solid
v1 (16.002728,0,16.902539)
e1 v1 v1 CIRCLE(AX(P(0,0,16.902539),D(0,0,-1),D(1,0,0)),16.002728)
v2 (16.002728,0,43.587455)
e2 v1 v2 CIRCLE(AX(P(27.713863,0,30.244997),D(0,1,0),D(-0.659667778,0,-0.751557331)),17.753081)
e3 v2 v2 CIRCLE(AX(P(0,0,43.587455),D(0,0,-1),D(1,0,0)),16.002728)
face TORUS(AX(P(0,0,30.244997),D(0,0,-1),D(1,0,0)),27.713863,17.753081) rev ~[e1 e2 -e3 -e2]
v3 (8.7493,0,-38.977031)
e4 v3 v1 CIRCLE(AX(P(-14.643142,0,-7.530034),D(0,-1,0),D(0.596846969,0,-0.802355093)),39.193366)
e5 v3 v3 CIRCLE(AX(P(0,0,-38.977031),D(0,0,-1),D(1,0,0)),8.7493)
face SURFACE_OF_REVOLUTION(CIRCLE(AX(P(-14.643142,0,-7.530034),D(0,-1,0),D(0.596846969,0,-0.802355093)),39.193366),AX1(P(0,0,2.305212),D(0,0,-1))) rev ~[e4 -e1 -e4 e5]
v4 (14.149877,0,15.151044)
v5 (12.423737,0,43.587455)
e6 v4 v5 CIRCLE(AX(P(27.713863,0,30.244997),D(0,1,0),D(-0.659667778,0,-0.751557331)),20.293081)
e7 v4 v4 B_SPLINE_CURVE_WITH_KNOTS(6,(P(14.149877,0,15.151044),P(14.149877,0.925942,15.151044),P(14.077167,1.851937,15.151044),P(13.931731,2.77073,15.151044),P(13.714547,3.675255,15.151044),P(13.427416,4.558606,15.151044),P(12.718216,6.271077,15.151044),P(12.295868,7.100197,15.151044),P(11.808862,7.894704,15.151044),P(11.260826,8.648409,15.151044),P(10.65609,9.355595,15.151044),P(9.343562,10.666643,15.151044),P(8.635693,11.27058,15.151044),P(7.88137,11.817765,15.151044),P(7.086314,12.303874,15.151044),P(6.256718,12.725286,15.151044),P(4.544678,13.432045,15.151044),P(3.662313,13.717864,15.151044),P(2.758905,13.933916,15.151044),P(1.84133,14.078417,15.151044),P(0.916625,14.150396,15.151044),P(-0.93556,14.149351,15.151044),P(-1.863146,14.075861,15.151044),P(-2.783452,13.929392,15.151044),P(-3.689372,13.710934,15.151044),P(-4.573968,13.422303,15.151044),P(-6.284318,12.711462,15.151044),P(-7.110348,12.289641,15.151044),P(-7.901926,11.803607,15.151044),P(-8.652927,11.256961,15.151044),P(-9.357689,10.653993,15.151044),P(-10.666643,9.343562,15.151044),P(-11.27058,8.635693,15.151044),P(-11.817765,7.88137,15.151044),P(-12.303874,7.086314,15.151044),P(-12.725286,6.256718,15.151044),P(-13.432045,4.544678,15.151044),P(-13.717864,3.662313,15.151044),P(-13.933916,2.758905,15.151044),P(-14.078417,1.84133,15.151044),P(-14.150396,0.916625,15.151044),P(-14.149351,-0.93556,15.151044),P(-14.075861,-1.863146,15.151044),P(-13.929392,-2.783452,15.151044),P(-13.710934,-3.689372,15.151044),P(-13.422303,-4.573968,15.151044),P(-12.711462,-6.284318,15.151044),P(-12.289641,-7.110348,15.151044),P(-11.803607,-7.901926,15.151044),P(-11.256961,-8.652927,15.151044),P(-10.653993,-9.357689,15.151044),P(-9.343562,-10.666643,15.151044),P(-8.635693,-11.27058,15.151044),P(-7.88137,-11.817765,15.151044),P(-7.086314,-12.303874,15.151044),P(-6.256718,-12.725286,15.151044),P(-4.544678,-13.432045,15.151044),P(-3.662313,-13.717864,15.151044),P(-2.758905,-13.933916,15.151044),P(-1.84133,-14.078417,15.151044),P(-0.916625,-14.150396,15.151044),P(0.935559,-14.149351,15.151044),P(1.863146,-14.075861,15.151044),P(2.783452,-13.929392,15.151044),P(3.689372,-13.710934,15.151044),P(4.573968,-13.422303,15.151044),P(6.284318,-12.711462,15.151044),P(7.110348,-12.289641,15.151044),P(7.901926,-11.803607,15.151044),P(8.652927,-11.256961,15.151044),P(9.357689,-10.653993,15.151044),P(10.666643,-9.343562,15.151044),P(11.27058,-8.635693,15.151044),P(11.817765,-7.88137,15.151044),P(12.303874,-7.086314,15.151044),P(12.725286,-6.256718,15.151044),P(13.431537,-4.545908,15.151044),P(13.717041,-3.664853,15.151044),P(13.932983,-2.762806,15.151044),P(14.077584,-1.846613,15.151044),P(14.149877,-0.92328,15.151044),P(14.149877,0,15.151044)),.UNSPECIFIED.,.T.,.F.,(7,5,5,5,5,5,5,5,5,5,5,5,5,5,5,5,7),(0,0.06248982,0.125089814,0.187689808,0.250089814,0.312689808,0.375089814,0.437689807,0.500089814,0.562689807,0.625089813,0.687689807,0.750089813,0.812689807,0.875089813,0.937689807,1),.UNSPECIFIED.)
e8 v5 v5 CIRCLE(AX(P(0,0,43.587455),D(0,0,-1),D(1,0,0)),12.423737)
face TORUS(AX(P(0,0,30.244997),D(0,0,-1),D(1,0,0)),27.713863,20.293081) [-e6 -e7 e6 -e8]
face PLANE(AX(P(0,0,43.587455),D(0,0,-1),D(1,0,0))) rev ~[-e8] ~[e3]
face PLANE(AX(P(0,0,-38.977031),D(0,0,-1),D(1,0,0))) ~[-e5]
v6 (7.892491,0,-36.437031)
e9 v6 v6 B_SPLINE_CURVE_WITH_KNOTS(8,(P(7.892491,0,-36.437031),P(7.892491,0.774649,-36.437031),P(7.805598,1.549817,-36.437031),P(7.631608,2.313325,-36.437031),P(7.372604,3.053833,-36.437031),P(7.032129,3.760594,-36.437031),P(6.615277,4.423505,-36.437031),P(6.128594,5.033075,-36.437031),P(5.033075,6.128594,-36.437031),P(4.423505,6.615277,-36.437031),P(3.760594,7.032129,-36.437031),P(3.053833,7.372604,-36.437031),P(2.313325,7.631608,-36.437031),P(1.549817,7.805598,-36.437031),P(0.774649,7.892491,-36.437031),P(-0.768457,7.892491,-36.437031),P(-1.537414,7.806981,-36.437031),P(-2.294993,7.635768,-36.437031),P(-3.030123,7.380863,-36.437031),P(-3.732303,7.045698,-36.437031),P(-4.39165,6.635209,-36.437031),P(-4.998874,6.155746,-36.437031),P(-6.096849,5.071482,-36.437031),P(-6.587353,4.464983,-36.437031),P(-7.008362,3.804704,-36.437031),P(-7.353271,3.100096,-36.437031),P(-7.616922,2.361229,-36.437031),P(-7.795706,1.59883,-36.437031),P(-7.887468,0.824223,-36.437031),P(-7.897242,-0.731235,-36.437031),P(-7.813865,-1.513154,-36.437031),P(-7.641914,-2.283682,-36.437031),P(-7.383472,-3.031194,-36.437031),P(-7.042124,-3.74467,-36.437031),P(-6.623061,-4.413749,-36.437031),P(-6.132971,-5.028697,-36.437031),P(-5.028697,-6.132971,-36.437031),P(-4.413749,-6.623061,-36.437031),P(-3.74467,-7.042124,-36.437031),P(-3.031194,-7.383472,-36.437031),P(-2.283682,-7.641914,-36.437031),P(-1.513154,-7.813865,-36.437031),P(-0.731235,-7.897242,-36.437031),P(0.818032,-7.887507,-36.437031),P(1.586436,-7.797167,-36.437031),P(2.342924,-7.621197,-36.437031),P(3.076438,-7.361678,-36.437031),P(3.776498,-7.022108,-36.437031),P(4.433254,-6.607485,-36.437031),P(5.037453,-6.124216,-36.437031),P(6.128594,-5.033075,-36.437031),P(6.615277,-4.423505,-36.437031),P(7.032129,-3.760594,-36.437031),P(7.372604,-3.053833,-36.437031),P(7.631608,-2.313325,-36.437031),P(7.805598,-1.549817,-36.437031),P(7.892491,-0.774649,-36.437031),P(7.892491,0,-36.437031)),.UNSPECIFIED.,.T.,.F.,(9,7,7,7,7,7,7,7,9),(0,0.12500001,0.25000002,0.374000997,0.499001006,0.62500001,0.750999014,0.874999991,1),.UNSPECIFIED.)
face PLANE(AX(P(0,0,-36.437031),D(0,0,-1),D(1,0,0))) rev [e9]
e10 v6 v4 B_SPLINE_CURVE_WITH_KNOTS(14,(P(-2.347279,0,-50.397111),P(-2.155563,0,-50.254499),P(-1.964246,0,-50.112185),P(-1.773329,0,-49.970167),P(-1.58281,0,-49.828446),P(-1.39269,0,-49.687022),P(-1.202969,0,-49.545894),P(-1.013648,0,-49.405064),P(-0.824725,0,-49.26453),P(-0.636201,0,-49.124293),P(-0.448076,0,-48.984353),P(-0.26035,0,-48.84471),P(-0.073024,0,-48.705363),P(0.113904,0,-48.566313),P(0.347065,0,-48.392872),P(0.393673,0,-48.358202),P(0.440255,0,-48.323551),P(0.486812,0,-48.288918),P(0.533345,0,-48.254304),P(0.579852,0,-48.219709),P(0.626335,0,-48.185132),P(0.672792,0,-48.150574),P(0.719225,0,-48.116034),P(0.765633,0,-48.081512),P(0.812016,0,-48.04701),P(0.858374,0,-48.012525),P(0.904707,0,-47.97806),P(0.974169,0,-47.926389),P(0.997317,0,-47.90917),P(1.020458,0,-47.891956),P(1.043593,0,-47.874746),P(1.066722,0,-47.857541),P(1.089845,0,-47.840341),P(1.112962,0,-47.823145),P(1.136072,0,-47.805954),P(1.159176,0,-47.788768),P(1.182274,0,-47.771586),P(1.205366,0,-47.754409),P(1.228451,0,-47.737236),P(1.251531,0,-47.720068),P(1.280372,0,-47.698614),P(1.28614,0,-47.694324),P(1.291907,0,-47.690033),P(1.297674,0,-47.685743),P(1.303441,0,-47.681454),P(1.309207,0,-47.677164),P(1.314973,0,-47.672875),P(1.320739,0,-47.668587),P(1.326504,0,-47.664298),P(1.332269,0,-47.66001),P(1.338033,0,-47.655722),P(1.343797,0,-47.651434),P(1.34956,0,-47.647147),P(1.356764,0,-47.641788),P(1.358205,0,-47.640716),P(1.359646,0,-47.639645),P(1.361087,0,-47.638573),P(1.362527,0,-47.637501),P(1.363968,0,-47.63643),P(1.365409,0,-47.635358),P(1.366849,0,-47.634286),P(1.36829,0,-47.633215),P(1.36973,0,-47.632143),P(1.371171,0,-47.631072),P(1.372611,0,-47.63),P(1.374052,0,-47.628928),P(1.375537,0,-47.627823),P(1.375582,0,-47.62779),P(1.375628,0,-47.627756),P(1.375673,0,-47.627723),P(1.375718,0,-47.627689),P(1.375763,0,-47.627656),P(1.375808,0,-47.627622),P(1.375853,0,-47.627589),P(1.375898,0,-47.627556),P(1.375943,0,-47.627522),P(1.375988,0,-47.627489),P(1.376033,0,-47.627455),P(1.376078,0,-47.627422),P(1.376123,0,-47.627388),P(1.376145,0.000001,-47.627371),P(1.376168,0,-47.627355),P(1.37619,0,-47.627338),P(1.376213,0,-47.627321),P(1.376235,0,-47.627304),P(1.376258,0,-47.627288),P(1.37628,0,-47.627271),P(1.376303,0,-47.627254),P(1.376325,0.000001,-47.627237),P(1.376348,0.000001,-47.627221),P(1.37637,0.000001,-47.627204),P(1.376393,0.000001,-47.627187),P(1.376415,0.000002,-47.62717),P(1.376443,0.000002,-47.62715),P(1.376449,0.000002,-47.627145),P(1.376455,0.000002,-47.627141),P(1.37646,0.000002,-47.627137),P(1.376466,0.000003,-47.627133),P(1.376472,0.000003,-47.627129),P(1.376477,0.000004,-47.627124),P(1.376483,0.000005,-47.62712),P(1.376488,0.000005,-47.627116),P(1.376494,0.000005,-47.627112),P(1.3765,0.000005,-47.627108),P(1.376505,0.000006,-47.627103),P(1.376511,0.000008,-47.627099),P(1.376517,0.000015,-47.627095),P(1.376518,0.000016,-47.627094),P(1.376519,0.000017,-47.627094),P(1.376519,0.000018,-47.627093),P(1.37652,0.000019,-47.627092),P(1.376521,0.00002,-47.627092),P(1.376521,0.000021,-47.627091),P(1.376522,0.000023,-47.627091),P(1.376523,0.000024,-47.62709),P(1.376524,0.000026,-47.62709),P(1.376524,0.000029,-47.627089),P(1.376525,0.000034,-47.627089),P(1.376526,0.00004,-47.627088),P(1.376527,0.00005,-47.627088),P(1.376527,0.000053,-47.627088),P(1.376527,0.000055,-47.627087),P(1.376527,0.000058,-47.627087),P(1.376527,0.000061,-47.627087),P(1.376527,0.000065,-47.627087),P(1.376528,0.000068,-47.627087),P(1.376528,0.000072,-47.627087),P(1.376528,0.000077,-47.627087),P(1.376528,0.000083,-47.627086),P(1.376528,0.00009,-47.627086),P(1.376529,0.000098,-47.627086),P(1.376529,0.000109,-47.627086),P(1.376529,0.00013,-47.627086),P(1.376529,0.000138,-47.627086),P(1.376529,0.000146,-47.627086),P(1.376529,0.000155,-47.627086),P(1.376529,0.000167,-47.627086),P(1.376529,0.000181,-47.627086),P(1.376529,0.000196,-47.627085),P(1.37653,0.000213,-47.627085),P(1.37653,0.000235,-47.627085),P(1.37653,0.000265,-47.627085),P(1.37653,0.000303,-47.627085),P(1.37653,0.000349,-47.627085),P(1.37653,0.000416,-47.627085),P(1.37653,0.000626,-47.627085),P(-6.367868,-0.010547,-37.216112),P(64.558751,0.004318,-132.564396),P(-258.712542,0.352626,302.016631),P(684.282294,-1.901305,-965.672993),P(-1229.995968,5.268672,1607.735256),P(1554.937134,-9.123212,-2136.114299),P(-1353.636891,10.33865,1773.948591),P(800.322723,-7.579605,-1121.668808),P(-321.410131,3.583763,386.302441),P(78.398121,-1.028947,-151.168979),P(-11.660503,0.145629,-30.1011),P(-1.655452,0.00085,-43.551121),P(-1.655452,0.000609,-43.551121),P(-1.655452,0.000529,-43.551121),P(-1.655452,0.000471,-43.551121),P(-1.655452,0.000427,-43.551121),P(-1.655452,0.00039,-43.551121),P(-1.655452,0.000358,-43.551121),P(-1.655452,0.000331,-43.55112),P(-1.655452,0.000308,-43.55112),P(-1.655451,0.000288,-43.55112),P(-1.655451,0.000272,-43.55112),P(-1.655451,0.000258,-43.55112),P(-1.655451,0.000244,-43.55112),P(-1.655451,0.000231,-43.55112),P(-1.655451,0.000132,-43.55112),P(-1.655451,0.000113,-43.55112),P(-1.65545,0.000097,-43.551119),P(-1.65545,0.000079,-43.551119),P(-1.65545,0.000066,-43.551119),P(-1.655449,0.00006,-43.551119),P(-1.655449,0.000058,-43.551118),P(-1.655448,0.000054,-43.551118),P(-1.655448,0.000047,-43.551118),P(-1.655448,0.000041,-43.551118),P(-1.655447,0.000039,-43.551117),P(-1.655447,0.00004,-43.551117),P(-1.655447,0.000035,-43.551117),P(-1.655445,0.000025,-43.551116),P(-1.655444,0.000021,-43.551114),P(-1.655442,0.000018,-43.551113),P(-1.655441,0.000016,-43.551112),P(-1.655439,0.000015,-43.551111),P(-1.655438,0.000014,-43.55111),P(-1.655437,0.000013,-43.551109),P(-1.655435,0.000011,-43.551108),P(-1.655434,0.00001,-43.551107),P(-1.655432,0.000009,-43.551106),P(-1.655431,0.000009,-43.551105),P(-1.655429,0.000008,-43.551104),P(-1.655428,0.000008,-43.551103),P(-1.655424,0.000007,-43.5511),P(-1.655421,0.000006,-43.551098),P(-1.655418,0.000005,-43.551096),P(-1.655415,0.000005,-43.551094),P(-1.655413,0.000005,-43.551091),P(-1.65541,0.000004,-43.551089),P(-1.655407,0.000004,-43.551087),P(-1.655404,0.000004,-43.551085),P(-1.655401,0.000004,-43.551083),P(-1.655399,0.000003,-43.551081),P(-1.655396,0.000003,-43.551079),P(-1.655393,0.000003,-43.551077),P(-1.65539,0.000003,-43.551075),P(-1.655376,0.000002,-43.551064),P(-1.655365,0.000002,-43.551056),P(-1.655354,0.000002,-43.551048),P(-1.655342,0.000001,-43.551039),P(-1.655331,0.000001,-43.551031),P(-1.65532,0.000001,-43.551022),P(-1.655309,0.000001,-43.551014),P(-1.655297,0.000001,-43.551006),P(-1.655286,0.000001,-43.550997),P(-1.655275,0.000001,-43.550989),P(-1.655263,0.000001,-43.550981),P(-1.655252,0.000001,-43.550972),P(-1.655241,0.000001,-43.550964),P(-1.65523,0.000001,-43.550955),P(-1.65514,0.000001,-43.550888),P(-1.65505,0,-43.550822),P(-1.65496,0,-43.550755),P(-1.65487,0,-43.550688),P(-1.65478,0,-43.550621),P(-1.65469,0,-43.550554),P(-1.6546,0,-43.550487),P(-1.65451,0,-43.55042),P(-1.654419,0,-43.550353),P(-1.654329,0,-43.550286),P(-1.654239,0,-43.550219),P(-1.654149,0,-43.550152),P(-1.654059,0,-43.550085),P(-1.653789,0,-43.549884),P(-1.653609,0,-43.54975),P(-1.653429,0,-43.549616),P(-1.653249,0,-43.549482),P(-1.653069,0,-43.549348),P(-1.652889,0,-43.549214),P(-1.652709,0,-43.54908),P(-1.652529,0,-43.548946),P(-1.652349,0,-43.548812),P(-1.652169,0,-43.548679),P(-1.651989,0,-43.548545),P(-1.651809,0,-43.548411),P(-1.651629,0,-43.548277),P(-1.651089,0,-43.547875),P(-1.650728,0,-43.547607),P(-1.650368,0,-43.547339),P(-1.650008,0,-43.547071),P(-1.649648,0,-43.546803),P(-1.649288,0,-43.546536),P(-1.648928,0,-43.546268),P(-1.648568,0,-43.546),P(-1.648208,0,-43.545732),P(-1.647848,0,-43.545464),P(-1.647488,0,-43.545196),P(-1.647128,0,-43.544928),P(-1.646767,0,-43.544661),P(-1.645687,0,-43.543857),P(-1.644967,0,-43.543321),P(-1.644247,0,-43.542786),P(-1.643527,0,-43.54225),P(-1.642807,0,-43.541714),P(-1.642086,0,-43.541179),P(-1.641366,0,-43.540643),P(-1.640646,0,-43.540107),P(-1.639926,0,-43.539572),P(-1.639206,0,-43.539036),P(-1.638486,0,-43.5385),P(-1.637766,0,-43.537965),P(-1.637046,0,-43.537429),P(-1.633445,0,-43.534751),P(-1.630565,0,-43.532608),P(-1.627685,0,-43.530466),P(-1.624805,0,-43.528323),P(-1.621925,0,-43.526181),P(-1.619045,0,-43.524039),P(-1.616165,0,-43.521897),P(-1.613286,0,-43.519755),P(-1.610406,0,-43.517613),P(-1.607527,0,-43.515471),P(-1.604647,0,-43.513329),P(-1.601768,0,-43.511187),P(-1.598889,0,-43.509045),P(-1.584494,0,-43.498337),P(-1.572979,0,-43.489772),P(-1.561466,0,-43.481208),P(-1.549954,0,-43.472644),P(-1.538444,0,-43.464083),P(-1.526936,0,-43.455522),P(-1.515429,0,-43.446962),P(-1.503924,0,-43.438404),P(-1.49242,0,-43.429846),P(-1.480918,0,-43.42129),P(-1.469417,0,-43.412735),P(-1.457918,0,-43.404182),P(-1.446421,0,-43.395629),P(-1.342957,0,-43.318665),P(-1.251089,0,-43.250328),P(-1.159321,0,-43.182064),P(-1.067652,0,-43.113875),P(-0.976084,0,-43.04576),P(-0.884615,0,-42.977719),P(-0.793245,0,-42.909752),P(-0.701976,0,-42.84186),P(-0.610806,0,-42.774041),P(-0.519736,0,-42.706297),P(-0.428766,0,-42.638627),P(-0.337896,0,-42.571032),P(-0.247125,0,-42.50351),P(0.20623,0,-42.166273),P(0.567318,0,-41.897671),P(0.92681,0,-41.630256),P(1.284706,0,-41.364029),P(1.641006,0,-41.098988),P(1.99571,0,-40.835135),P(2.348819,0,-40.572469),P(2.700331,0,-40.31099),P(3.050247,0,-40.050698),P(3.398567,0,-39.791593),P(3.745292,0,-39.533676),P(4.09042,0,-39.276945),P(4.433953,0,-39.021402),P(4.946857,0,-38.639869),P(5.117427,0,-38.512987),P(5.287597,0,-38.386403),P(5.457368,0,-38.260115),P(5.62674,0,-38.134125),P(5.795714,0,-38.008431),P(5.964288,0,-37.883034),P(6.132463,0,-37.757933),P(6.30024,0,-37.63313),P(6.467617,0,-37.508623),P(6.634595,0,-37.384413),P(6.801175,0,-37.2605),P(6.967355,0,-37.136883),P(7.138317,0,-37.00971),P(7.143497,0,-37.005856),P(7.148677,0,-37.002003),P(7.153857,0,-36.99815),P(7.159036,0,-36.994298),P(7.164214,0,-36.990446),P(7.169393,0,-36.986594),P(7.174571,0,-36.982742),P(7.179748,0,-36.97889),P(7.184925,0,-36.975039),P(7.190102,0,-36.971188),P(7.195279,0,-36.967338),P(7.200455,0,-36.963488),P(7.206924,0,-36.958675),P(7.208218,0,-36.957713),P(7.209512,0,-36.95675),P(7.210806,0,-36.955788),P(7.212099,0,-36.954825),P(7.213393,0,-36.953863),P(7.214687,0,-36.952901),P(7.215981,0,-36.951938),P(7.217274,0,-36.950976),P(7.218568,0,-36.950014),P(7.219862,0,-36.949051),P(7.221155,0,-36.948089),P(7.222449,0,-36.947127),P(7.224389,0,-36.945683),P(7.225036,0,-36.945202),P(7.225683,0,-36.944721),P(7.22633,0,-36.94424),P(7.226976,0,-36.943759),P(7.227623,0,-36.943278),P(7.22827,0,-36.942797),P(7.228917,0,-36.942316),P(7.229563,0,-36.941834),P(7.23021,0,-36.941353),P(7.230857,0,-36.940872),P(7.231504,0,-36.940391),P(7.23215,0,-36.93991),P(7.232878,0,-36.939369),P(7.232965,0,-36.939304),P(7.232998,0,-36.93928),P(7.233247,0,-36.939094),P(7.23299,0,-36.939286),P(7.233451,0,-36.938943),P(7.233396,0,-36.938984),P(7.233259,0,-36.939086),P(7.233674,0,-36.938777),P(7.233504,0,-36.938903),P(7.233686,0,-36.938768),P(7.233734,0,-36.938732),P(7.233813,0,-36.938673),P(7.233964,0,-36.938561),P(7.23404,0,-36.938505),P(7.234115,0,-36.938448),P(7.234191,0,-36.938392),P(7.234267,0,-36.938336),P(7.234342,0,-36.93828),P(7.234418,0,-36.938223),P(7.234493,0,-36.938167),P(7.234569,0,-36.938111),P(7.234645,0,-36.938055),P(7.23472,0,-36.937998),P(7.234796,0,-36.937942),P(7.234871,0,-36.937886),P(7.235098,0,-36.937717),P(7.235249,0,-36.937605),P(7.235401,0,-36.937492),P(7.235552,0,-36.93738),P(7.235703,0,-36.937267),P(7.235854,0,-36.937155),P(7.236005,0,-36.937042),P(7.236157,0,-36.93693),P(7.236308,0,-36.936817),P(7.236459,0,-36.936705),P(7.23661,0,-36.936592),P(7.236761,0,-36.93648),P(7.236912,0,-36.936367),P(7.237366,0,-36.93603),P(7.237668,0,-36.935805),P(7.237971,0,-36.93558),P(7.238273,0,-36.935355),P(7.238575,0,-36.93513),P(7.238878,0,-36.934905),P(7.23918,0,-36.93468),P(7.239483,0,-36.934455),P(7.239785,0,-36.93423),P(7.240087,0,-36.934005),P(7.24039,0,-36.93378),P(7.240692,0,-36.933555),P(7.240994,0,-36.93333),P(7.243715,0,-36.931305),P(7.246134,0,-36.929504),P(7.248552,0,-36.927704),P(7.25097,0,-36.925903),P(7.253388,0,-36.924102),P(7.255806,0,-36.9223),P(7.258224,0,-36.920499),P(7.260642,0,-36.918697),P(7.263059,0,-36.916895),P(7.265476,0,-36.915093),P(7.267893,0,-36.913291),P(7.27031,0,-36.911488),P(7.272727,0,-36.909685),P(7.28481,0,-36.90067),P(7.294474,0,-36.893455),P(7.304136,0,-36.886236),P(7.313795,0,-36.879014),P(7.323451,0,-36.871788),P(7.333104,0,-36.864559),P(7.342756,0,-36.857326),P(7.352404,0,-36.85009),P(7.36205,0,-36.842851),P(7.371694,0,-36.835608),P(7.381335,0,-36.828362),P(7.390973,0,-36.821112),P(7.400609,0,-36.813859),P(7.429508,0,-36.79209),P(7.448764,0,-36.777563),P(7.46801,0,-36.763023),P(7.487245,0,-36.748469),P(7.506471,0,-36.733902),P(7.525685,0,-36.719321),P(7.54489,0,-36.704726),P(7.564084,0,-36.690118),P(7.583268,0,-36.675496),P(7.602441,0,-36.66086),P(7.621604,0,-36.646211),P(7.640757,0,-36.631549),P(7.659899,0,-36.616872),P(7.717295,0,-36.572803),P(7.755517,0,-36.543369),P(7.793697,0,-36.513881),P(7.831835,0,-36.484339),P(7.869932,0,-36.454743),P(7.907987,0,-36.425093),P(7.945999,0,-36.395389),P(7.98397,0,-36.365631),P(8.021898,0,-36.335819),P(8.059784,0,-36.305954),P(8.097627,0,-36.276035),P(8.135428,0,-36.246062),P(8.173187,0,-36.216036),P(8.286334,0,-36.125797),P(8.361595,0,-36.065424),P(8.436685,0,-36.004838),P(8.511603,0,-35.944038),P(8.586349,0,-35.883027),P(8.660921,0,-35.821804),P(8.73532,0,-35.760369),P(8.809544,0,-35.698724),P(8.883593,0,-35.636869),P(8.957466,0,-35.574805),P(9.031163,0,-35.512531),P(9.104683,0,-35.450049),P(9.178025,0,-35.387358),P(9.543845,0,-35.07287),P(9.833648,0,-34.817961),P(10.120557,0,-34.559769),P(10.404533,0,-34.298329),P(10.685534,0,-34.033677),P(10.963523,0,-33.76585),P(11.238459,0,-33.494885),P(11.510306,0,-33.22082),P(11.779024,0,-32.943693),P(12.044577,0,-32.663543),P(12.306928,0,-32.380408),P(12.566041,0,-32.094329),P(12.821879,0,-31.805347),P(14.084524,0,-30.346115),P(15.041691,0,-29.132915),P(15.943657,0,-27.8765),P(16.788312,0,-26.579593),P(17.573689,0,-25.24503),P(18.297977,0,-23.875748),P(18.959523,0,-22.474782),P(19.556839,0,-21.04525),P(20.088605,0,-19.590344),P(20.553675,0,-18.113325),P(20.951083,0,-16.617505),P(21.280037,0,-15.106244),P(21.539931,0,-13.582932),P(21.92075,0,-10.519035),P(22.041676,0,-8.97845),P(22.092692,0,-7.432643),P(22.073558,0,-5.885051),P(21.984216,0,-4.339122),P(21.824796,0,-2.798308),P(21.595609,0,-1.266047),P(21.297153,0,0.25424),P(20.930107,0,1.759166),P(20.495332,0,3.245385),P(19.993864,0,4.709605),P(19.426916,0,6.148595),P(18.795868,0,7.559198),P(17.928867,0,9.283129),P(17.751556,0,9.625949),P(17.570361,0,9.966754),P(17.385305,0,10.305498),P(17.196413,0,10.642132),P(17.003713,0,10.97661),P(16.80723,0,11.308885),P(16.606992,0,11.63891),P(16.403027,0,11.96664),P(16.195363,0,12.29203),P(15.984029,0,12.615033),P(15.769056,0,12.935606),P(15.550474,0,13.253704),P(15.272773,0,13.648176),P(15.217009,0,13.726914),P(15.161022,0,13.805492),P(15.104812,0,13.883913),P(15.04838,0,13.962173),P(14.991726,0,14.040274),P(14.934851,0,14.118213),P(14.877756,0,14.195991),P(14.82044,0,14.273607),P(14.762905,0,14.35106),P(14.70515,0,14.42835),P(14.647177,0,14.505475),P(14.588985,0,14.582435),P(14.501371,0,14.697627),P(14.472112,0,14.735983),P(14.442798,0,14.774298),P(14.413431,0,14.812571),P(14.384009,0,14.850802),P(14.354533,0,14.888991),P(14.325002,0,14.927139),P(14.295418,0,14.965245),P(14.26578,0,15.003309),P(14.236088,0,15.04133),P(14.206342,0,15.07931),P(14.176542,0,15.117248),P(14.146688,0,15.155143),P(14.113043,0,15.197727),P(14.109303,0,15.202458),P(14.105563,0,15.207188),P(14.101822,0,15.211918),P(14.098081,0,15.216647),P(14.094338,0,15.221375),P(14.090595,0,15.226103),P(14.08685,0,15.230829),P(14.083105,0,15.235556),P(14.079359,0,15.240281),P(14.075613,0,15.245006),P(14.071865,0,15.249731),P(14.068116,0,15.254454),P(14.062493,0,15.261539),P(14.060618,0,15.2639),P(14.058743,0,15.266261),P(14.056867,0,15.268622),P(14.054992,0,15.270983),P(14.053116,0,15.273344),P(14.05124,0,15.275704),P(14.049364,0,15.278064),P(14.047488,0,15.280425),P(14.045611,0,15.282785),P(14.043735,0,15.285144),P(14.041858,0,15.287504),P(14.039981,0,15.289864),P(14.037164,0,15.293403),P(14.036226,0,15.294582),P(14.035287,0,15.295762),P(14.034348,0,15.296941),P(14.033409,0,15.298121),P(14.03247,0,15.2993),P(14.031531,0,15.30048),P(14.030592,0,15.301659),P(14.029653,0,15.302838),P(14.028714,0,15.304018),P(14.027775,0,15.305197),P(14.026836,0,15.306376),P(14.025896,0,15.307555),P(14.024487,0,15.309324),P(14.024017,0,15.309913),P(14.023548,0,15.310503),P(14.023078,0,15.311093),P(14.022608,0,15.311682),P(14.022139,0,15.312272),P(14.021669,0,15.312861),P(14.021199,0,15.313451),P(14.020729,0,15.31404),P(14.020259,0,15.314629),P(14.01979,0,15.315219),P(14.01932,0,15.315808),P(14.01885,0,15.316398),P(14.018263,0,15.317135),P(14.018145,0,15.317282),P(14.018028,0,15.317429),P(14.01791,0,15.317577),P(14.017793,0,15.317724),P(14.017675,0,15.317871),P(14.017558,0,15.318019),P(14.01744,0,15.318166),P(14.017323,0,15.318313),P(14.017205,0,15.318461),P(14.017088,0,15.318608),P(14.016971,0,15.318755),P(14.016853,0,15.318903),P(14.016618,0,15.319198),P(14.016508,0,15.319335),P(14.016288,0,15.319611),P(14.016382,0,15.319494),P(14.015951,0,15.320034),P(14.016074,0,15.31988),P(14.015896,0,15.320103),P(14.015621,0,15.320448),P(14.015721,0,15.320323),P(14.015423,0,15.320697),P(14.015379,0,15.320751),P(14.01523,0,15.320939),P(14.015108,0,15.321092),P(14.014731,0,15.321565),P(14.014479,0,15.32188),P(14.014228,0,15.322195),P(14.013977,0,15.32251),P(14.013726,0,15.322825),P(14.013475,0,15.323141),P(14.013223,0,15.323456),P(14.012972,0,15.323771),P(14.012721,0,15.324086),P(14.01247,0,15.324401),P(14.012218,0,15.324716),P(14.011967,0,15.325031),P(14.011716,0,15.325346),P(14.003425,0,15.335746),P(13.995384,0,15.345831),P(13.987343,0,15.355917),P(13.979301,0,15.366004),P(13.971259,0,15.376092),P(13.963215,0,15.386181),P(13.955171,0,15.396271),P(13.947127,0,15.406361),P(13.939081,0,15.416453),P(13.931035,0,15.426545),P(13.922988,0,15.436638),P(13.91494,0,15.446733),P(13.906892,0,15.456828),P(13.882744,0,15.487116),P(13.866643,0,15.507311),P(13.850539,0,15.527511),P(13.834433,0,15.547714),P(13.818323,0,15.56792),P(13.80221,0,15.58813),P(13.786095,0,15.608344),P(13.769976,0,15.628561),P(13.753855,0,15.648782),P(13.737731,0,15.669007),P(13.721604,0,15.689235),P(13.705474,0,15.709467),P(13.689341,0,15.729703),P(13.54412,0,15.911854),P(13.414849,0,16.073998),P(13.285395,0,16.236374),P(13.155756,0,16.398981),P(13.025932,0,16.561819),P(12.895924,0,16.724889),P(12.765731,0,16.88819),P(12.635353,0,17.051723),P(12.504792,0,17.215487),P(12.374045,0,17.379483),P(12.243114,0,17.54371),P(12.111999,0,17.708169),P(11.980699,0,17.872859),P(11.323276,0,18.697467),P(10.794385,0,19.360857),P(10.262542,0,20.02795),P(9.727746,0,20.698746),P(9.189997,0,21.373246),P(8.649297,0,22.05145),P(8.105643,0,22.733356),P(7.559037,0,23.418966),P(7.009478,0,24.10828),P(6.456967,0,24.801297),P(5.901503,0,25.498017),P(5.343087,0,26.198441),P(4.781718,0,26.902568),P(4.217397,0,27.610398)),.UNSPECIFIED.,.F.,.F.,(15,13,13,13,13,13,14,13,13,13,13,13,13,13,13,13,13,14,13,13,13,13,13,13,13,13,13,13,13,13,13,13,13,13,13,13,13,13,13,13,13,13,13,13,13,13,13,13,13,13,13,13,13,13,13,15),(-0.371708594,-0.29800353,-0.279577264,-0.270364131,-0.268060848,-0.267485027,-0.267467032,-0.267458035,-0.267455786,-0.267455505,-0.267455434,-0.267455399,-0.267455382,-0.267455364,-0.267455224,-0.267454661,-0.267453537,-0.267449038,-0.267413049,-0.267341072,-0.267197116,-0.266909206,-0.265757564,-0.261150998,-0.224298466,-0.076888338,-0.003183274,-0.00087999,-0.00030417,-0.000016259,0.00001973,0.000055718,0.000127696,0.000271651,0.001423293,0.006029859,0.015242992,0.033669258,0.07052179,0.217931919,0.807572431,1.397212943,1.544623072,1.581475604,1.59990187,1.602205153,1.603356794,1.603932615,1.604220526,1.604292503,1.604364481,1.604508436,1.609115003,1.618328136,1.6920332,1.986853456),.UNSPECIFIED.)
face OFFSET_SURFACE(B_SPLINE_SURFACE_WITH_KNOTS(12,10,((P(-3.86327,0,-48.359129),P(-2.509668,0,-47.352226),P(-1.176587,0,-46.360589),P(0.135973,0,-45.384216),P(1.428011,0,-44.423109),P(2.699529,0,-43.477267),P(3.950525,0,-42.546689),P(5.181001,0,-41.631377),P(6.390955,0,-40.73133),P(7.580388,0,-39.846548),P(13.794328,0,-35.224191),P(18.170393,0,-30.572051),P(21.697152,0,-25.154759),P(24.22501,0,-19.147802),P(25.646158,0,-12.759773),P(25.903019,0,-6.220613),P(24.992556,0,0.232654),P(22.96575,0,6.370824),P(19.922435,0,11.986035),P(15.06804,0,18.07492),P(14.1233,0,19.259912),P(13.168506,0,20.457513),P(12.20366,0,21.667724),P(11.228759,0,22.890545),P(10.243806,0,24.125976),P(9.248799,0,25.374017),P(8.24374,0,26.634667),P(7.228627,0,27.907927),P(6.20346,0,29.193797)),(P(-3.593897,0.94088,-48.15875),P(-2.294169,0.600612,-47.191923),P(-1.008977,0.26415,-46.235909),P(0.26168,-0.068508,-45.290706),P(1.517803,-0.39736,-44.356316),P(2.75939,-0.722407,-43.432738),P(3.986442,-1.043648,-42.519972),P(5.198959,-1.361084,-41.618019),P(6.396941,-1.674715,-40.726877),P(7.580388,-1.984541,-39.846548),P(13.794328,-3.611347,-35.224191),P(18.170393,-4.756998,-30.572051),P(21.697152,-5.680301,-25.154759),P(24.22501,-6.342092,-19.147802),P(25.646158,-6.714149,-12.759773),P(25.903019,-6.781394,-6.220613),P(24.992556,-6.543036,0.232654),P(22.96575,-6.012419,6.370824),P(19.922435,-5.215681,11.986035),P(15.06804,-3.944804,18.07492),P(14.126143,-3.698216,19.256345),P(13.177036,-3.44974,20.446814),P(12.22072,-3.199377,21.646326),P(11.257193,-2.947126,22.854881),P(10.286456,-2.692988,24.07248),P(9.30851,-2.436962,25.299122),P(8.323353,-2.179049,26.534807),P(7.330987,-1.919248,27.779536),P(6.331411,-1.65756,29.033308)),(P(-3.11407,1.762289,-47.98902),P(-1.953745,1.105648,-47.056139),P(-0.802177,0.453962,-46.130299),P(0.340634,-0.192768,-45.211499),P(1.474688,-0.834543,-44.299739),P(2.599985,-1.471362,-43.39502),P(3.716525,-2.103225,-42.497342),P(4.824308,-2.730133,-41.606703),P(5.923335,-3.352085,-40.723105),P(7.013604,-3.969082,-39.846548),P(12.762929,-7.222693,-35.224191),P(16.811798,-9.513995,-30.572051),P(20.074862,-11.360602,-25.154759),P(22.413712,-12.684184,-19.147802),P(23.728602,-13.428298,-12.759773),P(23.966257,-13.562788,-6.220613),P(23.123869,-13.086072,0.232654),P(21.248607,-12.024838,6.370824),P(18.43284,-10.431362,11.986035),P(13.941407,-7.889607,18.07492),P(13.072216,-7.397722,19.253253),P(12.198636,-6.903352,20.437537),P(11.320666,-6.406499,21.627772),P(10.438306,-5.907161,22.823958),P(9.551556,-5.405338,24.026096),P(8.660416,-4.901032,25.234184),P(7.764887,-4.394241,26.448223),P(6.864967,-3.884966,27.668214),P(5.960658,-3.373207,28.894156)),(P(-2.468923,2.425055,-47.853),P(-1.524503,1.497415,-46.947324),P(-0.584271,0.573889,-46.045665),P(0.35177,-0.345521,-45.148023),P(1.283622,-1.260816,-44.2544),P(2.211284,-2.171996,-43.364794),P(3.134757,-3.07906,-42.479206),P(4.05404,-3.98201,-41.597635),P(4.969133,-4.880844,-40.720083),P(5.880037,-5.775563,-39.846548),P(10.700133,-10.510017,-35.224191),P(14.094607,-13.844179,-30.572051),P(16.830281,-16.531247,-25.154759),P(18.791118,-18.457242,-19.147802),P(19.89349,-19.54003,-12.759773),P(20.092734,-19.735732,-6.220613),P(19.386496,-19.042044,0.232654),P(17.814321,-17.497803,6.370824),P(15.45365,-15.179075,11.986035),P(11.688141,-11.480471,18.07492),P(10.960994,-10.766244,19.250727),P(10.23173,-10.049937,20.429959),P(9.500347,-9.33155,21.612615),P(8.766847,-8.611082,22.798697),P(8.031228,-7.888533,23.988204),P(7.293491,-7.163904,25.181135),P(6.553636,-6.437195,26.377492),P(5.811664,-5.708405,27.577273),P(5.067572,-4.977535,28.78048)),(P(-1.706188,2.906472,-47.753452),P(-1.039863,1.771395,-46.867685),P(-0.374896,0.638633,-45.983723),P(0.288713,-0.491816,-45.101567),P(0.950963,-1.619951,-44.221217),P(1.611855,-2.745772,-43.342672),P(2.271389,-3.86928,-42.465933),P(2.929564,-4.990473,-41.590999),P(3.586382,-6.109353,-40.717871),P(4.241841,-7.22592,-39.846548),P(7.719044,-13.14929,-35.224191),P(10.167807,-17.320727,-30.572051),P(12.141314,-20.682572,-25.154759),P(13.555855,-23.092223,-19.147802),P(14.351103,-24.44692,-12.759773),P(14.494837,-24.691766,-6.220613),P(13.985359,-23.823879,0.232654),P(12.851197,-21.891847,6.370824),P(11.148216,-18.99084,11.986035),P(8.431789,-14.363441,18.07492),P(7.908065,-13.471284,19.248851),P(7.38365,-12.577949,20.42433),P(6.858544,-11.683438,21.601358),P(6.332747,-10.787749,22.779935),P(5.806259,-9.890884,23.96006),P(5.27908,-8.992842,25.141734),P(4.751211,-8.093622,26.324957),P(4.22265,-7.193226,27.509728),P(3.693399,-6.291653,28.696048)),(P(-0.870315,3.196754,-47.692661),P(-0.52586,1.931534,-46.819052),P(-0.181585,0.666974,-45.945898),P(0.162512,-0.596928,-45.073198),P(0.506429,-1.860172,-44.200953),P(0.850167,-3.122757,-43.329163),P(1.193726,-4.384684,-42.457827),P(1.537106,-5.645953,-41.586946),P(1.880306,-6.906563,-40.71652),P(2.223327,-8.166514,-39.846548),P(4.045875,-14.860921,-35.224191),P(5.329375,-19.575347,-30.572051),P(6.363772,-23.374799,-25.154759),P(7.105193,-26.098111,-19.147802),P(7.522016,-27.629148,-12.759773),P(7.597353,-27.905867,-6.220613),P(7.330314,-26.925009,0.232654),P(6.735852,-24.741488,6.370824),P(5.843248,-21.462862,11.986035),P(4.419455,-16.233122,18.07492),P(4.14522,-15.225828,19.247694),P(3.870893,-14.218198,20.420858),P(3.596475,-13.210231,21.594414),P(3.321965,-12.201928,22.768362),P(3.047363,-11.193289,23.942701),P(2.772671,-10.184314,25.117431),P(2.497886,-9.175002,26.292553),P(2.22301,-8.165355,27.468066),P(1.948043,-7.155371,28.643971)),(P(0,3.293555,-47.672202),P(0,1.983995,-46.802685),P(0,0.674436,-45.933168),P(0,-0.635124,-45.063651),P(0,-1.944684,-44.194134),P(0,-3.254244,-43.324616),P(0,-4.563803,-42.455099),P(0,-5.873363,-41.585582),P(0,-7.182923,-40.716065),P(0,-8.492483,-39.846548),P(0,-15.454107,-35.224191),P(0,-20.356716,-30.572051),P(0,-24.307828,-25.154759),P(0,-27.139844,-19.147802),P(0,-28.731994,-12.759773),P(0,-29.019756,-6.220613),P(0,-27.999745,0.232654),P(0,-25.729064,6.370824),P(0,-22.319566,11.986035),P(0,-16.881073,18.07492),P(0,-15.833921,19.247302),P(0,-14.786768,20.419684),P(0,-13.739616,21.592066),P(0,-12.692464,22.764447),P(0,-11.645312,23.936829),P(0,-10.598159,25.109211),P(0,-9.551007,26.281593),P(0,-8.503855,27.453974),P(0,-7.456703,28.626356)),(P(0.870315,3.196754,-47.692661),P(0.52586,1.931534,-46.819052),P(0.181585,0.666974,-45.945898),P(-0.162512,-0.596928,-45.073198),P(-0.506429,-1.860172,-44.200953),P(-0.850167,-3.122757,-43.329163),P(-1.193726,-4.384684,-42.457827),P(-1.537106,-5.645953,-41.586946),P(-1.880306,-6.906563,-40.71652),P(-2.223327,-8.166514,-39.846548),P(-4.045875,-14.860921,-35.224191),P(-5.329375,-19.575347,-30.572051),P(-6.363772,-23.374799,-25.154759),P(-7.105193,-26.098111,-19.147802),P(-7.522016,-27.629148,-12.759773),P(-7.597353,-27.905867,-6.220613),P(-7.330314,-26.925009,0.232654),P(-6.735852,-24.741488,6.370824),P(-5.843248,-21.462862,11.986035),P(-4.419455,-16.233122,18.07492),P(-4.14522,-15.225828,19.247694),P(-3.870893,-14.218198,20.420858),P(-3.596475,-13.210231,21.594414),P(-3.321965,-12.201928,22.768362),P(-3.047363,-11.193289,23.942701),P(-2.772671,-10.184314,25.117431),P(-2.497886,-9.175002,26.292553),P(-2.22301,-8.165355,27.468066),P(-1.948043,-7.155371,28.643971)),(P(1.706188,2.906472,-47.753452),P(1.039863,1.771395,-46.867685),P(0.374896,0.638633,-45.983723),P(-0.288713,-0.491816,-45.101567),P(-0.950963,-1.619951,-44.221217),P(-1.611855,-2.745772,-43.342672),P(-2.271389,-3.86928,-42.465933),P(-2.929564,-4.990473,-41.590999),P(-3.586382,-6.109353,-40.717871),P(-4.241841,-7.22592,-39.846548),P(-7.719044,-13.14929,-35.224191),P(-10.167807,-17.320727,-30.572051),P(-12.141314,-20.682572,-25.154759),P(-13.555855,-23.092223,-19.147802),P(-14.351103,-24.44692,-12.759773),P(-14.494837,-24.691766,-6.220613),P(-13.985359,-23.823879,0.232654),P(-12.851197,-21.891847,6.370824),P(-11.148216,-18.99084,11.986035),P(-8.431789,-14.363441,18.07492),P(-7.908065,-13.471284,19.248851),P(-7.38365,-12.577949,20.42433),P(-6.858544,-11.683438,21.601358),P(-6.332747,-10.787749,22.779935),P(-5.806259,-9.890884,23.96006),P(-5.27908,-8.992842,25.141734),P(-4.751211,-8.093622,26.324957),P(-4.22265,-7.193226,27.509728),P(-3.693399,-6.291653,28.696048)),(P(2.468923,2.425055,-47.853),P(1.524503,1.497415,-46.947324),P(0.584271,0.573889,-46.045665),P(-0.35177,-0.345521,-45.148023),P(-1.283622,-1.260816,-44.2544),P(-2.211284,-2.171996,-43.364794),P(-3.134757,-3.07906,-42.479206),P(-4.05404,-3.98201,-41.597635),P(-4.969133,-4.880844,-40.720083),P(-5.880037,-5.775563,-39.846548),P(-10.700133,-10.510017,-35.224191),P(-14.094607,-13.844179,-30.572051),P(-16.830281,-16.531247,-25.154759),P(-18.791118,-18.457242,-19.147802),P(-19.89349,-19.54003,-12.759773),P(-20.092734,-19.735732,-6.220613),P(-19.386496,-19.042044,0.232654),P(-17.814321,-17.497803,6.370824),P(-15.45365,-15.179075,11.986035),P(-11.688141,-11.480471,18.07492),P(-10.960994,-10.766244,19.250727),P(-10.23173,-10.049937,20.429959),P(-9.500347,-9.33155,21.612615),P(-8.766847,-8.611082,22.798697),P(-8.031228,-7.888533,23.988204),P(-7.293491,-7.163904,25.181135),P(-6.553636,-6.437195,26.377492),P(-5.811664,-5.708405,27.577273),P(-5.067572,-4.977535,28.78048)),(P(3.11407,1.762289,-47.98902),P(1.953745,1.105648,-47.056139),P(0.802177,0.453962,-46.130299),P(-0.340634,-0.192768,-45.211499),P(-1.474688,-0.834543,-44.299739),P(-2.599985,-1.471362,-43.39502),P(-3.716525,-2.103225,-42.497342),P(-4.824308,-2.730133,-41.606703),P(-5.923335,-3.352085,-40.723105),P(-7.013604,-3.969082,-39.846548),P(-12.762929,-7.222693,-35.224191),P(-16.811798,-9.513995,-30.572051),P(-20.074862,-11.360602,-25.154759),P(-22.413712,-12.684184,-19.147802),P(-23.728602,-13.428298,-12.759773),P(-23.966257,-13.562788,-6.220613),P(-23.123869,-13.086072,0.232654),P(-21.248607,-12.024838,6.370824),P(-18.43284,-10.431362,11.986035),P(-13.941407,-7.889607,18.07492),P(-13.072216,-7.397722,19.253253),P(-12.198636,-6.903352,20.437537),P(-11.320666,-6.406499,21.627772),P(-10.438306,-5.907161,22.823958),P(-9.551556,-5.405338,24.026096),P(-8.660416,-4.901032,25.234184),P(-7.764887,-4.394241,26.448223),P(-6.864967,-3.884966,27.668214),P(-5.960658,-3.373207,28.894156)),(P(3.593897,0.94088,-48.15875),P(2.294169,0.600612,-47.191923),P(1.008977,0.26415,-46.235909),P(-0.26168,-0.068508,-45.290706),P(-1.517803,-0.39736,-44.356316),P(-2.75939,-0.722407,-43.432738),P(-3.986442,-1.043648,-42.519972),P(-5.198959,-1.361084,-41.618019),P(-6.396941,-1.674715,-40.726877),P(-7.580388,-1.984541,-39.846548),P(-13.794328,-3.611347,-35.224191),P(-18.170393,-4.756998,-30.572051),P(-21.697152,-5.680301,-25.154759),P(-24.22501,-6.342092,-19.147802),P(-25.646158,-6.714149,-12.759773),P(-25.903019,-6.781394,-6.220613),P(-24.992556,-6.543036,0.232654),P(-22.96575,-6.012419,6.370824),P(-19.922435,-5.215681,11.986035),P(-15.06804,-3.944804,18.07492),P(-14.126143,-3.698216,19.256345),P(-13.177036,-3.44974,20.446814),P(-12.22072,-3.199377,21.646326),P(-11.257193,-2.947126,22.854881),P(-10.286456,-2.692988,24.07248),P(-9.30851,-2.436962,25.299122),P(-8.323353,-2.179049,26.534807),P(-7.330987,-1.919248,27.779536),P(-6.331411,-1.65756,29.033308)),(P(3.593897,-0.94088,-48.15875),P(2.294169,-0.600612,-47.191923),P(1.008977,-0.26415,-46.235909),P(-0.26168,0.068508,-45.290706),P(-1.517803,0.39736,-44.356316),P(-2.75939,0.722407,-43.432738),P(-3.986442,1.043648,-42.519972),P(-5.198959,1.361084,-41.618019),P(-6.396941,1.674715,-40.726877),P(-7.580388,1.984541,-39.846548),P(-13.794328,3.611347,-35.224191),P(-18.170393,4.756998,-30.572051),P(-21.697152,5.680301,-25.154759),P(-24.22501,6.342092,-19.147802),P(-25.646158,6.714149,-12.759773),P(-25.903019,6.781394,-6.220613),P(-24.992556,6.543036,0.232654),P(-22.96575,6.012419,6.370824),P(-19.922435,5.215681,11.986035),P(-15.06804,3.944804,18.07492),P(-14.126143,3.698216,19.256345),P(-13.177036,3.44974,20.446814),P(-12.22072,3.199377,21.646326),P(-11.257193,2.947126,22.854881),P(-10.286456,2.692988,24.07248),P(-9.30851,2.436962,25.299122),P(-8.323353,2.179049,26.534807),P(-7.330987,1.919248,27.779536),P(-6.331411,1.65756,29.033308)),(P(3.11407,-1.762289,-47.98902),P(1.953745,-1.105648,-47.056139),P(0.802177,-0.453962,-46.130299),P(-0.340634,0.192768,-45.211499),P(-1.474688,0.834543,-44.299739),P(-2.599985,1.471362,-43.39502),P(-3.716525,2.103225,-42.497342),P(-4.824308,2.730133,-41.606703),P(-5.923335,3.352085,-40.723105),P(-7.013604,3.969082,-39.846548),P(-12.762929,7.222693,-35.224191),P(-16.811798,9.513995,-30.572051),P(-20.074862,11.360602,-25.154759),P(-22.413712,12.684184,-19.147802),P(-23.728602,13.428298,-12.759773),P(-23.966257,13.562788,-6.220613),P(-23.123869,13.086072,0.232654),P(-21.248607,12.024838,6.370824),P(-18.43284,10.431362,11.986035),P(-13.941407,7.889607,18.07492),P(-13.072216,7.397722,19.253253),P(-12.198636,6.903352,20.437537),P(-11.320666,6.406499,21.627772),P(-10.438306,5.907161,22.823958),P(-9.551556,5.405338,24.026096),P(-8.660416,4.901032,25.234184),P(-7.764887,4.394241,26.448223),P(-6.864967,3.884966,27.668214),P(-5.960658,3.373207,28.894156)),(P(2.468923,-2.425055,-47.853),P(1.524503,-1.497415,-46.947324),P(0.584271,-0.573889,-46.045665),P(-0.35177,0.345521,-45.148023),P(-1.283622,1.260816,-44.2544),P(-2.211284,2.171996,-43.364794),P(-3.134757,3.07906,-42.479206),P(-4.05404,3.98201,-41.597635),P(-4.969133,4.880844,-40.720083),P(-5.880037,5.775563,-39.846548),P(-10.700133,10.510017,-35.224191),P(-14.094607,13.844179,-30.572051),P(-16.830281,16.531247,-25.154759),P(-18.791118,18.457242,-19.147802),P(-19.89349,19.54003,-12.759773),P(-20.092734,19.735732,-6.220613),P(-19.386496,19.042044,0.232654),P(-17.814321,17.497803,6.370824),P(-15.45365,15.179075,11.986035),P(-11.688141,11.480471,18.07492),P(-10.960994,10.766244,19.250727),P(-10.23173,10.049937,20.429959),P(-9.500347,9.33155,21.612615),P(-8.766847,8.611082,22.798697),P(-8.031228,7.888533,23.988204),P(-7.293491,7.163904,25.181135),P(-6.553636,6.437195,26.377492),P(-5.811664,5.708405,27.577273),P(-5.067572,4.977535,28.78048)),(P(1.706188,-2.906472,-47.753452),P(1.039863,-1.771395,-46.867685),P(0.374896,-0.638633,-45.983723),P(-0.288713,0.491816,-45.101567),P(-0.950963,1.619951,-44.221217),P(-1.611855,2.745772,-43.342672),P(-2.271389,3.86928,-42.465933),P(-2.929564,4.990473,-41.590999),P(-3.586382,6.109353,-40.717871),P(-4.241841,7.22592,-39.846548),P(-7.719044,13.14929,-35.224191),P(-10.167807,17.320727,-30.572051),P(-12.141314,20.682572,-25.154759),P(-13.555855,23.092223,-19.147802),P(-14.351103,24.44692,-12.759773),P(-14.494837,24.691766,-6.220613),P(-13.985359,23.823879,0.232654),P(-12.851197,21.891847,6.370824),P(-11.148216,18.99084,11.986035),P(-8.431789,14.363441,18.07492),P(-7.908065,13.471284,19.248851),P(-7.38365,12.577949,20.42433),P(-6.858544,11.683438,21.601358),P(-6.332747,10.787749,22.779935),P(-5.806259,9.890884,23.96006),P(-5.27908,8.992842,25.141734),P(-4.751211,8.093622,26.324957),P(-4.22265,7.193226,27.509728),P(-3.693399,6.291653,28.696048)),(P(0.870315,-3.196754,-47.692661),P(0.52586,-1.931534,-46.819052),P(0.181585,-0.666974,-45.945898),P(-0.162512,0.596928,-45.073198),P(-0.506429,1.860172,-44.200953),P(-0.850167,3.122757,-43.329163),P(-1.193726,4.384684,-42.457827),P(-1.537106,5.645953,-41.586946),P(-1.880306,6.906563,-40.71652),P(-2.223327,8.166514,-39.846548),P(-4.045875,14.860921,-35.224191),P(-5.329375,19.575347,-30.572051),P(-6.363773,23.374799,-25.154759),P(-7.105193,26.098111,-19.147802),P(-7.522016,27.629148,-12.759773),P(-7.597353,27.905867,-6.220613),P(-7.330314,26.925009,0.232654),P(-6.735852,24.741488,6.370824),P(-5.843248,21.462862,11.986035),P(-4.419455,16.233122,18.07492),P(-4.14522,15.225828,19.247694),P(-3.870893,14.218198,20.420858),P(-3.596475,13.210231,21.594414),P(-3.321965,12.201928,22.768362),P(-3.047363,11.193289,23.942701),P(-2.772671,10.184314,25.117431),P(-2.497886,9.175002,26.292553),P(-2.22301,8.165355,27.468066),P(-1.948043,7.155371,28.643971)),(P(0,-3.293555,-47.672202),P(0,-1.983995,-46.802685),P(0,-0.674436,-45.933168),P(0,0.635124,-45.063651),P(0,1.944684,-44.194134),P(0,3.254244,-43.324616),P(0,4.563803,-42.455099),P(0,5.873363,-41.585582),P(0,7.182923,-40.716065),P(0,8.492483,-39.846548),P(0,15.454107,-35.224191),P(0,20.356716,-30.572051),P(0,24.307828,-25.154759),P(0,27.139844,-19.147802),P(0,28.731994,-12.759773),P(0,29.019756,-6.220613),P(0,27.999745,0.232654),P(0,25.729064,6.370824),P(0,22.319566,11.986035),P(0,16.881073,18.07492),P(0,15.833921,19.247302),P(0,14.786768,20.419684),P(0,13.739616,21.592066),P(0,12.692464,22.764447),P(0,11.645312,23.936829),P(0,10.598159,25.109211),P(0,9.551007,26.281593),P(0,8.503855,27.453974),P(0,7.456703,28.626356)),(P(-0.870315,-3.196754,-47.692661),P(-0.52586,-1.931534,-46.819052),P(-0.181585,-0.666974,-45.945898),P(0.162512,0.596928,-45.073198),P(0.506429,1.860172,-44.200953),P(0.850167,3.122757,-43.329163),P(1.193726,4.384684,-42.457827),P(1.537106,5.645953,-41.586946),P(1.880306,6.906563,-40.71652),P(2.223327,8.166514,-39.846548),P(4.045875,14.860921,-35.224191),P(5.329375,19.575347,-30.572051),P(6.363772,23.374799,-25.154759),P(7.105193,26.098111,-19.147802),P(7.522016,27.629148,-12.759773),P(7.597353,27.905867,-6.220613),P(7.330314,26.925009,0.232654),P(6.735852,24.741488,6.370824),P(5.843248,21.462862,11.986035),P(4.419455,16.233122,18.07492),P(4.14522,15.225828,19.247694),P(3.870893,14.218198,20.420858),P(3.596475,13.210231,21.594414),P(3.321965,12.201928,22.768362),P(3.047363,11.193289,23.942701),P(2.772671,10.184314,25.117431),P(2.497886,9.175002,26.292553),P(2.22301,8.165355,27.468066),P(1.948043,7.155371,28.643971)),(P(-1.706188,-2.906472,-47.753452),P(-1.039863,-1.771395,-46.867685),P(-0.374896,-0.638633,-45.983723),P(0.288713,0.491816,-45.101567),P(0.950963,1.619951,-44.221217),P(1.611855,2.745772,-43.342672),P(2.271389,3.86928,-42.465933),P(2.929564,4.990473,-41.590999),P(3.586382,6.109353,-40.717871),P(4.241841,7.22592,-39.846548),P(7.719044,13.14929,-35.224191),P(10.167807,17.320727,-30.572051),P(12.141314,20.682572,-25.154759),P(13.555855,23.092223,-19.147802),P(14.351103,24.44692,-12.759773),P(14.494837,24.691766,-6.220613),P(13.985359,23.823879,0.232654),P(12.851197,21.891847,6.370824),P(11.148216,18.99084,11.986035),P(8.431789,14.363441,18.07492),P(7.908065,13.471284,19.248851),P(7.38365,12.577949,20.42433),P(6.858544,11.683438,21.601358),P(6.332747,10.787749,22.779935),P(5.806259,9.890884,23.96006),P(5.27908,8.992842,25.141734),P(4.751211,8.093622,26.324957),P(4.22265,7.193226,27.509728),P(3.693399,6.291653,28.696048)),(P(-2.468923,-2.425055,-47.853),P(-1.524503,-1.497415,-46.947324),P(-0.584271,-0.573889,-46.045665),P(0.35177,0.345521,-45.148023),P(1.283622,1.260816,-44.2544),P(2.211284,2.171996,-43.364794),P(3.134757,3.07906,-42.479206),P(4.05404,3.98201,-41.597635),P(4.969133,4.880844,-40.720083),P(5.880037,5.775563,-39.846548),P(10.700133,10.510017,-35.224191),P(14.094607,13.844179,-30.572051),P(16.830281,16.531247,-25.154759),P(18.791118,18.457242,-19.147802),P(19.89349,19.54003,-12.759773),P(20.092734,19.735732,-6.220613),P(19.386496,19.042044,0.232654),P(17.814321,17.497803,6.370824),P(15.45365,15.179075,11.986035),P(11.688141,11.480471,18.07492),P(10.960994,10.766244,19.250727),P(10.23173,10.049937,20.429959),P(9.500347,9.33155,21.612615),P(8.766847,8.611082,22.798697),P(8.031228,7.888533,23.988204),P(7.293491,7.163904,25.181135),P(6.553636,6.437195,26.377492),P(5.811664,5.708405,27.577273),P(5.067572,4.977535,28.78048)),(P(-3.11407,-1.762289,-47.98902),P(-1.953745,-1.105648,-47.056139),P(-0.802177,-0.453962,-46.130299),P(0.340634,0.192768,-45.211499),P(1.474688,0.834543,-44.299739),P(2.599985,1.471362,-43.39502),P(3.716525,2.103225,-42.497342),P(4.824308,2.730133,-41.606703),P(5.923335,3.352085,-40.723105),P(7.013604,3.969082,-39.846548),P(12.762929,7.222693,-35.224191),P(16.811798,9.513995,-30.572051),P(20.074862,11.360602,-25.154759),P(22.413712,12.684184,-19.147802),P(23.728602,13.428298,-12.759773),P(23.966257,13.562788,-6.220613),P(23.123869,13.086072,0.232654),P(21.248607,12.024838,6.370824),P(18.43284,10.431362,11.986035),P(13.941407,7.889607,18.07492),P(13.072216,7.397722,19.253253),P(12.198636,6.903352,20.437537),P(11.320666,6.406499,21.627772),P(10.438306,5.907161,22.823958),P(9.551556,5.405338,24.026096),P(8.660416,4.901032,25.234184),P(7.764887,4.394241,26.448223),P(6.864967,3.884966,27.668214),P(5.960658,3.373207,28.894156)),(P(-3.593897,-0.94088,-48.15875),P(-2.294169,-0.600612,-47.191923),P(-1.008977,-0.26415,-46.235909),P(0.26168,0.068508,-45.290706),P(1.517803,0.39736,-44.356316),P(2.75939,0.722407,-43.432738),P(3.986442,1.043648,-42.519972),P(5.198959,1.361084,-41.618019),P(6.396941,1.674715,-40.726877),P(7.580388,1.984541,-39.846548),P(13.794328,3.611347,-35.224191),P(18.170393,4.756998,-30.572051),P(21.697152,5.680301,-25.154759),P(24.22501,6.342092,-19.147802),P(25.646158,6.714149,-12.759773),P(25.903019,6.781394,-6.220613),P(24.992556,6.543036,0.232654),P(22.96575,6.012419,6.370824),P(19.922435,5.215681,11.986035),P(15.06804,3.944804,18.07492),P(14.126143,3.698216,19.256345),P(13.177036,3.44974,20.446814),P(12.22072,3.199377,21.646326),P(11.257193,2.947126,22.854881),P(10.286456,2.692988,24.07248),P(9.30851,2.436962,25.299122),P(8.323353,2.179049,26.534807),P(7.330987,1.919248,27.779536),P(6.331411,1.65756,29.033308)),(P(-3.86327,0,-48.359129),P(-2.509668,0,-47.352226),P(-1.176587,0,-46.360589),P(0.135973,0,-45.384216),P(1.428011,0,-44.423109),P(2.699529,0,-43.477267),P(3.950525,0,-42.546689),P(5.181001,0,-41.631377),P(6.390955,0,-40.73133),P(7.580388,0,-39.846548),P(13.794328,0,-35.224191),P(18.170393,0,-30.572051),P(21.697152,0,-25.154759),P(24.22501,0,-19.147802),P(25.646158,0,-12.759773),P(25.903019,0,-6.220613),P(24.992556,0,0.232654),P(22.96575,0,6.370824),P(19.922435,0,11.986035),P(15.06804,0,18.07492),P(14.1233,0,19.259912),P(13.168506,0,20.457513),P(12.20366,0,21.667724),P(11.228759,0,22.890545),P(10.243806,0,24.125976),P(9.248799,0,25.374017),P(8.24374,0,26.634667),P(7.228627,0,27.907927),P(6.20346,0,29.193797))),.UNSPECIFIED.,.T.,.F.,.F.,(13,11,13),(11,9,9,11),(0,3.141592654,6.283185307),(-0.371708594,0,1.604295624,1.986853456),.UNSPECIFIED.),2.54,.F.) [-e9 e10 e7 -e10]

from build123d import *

# Parameters (mm, degrees)
F2_T = -2.54


with BuildPart() as f1:
    # F0 (on Front) → F1 (revolve)
    with BuildSketch(Plane.XZ):
        with BuildLine():
            Line((0, -38.9770306647), (8.7492996827, -38.9770306647))
            ThreePointArc((8.7492996827, -38.9770306647), (24.224149397, -12.5751891652), (16.0027276725, 16.9025385809))
            ThreePointArc((16.0027276725, 16.9025385809), (9.9607821672, 30.2449967712), (16.0027276725, 43.5874549616))
            Line((16.0027276725, 43.5874549616), (0, 43.5874549616))
            Line((0, 43.5874549616), (0, -38.9770306647))
        make_face()
    revolve(axis=Axis((0, 0, 2.3052121484), (0, 0, -1)))

    # F2
    f2_openings = [f1.faces().sort_by_distance(p)[0] for p in [
        (0, 0, 43.587455),
    ]]
    offset(amount=F2_T, openings=f2_openings, kind=Kind.INTERSECTION)


solid = f1.part
